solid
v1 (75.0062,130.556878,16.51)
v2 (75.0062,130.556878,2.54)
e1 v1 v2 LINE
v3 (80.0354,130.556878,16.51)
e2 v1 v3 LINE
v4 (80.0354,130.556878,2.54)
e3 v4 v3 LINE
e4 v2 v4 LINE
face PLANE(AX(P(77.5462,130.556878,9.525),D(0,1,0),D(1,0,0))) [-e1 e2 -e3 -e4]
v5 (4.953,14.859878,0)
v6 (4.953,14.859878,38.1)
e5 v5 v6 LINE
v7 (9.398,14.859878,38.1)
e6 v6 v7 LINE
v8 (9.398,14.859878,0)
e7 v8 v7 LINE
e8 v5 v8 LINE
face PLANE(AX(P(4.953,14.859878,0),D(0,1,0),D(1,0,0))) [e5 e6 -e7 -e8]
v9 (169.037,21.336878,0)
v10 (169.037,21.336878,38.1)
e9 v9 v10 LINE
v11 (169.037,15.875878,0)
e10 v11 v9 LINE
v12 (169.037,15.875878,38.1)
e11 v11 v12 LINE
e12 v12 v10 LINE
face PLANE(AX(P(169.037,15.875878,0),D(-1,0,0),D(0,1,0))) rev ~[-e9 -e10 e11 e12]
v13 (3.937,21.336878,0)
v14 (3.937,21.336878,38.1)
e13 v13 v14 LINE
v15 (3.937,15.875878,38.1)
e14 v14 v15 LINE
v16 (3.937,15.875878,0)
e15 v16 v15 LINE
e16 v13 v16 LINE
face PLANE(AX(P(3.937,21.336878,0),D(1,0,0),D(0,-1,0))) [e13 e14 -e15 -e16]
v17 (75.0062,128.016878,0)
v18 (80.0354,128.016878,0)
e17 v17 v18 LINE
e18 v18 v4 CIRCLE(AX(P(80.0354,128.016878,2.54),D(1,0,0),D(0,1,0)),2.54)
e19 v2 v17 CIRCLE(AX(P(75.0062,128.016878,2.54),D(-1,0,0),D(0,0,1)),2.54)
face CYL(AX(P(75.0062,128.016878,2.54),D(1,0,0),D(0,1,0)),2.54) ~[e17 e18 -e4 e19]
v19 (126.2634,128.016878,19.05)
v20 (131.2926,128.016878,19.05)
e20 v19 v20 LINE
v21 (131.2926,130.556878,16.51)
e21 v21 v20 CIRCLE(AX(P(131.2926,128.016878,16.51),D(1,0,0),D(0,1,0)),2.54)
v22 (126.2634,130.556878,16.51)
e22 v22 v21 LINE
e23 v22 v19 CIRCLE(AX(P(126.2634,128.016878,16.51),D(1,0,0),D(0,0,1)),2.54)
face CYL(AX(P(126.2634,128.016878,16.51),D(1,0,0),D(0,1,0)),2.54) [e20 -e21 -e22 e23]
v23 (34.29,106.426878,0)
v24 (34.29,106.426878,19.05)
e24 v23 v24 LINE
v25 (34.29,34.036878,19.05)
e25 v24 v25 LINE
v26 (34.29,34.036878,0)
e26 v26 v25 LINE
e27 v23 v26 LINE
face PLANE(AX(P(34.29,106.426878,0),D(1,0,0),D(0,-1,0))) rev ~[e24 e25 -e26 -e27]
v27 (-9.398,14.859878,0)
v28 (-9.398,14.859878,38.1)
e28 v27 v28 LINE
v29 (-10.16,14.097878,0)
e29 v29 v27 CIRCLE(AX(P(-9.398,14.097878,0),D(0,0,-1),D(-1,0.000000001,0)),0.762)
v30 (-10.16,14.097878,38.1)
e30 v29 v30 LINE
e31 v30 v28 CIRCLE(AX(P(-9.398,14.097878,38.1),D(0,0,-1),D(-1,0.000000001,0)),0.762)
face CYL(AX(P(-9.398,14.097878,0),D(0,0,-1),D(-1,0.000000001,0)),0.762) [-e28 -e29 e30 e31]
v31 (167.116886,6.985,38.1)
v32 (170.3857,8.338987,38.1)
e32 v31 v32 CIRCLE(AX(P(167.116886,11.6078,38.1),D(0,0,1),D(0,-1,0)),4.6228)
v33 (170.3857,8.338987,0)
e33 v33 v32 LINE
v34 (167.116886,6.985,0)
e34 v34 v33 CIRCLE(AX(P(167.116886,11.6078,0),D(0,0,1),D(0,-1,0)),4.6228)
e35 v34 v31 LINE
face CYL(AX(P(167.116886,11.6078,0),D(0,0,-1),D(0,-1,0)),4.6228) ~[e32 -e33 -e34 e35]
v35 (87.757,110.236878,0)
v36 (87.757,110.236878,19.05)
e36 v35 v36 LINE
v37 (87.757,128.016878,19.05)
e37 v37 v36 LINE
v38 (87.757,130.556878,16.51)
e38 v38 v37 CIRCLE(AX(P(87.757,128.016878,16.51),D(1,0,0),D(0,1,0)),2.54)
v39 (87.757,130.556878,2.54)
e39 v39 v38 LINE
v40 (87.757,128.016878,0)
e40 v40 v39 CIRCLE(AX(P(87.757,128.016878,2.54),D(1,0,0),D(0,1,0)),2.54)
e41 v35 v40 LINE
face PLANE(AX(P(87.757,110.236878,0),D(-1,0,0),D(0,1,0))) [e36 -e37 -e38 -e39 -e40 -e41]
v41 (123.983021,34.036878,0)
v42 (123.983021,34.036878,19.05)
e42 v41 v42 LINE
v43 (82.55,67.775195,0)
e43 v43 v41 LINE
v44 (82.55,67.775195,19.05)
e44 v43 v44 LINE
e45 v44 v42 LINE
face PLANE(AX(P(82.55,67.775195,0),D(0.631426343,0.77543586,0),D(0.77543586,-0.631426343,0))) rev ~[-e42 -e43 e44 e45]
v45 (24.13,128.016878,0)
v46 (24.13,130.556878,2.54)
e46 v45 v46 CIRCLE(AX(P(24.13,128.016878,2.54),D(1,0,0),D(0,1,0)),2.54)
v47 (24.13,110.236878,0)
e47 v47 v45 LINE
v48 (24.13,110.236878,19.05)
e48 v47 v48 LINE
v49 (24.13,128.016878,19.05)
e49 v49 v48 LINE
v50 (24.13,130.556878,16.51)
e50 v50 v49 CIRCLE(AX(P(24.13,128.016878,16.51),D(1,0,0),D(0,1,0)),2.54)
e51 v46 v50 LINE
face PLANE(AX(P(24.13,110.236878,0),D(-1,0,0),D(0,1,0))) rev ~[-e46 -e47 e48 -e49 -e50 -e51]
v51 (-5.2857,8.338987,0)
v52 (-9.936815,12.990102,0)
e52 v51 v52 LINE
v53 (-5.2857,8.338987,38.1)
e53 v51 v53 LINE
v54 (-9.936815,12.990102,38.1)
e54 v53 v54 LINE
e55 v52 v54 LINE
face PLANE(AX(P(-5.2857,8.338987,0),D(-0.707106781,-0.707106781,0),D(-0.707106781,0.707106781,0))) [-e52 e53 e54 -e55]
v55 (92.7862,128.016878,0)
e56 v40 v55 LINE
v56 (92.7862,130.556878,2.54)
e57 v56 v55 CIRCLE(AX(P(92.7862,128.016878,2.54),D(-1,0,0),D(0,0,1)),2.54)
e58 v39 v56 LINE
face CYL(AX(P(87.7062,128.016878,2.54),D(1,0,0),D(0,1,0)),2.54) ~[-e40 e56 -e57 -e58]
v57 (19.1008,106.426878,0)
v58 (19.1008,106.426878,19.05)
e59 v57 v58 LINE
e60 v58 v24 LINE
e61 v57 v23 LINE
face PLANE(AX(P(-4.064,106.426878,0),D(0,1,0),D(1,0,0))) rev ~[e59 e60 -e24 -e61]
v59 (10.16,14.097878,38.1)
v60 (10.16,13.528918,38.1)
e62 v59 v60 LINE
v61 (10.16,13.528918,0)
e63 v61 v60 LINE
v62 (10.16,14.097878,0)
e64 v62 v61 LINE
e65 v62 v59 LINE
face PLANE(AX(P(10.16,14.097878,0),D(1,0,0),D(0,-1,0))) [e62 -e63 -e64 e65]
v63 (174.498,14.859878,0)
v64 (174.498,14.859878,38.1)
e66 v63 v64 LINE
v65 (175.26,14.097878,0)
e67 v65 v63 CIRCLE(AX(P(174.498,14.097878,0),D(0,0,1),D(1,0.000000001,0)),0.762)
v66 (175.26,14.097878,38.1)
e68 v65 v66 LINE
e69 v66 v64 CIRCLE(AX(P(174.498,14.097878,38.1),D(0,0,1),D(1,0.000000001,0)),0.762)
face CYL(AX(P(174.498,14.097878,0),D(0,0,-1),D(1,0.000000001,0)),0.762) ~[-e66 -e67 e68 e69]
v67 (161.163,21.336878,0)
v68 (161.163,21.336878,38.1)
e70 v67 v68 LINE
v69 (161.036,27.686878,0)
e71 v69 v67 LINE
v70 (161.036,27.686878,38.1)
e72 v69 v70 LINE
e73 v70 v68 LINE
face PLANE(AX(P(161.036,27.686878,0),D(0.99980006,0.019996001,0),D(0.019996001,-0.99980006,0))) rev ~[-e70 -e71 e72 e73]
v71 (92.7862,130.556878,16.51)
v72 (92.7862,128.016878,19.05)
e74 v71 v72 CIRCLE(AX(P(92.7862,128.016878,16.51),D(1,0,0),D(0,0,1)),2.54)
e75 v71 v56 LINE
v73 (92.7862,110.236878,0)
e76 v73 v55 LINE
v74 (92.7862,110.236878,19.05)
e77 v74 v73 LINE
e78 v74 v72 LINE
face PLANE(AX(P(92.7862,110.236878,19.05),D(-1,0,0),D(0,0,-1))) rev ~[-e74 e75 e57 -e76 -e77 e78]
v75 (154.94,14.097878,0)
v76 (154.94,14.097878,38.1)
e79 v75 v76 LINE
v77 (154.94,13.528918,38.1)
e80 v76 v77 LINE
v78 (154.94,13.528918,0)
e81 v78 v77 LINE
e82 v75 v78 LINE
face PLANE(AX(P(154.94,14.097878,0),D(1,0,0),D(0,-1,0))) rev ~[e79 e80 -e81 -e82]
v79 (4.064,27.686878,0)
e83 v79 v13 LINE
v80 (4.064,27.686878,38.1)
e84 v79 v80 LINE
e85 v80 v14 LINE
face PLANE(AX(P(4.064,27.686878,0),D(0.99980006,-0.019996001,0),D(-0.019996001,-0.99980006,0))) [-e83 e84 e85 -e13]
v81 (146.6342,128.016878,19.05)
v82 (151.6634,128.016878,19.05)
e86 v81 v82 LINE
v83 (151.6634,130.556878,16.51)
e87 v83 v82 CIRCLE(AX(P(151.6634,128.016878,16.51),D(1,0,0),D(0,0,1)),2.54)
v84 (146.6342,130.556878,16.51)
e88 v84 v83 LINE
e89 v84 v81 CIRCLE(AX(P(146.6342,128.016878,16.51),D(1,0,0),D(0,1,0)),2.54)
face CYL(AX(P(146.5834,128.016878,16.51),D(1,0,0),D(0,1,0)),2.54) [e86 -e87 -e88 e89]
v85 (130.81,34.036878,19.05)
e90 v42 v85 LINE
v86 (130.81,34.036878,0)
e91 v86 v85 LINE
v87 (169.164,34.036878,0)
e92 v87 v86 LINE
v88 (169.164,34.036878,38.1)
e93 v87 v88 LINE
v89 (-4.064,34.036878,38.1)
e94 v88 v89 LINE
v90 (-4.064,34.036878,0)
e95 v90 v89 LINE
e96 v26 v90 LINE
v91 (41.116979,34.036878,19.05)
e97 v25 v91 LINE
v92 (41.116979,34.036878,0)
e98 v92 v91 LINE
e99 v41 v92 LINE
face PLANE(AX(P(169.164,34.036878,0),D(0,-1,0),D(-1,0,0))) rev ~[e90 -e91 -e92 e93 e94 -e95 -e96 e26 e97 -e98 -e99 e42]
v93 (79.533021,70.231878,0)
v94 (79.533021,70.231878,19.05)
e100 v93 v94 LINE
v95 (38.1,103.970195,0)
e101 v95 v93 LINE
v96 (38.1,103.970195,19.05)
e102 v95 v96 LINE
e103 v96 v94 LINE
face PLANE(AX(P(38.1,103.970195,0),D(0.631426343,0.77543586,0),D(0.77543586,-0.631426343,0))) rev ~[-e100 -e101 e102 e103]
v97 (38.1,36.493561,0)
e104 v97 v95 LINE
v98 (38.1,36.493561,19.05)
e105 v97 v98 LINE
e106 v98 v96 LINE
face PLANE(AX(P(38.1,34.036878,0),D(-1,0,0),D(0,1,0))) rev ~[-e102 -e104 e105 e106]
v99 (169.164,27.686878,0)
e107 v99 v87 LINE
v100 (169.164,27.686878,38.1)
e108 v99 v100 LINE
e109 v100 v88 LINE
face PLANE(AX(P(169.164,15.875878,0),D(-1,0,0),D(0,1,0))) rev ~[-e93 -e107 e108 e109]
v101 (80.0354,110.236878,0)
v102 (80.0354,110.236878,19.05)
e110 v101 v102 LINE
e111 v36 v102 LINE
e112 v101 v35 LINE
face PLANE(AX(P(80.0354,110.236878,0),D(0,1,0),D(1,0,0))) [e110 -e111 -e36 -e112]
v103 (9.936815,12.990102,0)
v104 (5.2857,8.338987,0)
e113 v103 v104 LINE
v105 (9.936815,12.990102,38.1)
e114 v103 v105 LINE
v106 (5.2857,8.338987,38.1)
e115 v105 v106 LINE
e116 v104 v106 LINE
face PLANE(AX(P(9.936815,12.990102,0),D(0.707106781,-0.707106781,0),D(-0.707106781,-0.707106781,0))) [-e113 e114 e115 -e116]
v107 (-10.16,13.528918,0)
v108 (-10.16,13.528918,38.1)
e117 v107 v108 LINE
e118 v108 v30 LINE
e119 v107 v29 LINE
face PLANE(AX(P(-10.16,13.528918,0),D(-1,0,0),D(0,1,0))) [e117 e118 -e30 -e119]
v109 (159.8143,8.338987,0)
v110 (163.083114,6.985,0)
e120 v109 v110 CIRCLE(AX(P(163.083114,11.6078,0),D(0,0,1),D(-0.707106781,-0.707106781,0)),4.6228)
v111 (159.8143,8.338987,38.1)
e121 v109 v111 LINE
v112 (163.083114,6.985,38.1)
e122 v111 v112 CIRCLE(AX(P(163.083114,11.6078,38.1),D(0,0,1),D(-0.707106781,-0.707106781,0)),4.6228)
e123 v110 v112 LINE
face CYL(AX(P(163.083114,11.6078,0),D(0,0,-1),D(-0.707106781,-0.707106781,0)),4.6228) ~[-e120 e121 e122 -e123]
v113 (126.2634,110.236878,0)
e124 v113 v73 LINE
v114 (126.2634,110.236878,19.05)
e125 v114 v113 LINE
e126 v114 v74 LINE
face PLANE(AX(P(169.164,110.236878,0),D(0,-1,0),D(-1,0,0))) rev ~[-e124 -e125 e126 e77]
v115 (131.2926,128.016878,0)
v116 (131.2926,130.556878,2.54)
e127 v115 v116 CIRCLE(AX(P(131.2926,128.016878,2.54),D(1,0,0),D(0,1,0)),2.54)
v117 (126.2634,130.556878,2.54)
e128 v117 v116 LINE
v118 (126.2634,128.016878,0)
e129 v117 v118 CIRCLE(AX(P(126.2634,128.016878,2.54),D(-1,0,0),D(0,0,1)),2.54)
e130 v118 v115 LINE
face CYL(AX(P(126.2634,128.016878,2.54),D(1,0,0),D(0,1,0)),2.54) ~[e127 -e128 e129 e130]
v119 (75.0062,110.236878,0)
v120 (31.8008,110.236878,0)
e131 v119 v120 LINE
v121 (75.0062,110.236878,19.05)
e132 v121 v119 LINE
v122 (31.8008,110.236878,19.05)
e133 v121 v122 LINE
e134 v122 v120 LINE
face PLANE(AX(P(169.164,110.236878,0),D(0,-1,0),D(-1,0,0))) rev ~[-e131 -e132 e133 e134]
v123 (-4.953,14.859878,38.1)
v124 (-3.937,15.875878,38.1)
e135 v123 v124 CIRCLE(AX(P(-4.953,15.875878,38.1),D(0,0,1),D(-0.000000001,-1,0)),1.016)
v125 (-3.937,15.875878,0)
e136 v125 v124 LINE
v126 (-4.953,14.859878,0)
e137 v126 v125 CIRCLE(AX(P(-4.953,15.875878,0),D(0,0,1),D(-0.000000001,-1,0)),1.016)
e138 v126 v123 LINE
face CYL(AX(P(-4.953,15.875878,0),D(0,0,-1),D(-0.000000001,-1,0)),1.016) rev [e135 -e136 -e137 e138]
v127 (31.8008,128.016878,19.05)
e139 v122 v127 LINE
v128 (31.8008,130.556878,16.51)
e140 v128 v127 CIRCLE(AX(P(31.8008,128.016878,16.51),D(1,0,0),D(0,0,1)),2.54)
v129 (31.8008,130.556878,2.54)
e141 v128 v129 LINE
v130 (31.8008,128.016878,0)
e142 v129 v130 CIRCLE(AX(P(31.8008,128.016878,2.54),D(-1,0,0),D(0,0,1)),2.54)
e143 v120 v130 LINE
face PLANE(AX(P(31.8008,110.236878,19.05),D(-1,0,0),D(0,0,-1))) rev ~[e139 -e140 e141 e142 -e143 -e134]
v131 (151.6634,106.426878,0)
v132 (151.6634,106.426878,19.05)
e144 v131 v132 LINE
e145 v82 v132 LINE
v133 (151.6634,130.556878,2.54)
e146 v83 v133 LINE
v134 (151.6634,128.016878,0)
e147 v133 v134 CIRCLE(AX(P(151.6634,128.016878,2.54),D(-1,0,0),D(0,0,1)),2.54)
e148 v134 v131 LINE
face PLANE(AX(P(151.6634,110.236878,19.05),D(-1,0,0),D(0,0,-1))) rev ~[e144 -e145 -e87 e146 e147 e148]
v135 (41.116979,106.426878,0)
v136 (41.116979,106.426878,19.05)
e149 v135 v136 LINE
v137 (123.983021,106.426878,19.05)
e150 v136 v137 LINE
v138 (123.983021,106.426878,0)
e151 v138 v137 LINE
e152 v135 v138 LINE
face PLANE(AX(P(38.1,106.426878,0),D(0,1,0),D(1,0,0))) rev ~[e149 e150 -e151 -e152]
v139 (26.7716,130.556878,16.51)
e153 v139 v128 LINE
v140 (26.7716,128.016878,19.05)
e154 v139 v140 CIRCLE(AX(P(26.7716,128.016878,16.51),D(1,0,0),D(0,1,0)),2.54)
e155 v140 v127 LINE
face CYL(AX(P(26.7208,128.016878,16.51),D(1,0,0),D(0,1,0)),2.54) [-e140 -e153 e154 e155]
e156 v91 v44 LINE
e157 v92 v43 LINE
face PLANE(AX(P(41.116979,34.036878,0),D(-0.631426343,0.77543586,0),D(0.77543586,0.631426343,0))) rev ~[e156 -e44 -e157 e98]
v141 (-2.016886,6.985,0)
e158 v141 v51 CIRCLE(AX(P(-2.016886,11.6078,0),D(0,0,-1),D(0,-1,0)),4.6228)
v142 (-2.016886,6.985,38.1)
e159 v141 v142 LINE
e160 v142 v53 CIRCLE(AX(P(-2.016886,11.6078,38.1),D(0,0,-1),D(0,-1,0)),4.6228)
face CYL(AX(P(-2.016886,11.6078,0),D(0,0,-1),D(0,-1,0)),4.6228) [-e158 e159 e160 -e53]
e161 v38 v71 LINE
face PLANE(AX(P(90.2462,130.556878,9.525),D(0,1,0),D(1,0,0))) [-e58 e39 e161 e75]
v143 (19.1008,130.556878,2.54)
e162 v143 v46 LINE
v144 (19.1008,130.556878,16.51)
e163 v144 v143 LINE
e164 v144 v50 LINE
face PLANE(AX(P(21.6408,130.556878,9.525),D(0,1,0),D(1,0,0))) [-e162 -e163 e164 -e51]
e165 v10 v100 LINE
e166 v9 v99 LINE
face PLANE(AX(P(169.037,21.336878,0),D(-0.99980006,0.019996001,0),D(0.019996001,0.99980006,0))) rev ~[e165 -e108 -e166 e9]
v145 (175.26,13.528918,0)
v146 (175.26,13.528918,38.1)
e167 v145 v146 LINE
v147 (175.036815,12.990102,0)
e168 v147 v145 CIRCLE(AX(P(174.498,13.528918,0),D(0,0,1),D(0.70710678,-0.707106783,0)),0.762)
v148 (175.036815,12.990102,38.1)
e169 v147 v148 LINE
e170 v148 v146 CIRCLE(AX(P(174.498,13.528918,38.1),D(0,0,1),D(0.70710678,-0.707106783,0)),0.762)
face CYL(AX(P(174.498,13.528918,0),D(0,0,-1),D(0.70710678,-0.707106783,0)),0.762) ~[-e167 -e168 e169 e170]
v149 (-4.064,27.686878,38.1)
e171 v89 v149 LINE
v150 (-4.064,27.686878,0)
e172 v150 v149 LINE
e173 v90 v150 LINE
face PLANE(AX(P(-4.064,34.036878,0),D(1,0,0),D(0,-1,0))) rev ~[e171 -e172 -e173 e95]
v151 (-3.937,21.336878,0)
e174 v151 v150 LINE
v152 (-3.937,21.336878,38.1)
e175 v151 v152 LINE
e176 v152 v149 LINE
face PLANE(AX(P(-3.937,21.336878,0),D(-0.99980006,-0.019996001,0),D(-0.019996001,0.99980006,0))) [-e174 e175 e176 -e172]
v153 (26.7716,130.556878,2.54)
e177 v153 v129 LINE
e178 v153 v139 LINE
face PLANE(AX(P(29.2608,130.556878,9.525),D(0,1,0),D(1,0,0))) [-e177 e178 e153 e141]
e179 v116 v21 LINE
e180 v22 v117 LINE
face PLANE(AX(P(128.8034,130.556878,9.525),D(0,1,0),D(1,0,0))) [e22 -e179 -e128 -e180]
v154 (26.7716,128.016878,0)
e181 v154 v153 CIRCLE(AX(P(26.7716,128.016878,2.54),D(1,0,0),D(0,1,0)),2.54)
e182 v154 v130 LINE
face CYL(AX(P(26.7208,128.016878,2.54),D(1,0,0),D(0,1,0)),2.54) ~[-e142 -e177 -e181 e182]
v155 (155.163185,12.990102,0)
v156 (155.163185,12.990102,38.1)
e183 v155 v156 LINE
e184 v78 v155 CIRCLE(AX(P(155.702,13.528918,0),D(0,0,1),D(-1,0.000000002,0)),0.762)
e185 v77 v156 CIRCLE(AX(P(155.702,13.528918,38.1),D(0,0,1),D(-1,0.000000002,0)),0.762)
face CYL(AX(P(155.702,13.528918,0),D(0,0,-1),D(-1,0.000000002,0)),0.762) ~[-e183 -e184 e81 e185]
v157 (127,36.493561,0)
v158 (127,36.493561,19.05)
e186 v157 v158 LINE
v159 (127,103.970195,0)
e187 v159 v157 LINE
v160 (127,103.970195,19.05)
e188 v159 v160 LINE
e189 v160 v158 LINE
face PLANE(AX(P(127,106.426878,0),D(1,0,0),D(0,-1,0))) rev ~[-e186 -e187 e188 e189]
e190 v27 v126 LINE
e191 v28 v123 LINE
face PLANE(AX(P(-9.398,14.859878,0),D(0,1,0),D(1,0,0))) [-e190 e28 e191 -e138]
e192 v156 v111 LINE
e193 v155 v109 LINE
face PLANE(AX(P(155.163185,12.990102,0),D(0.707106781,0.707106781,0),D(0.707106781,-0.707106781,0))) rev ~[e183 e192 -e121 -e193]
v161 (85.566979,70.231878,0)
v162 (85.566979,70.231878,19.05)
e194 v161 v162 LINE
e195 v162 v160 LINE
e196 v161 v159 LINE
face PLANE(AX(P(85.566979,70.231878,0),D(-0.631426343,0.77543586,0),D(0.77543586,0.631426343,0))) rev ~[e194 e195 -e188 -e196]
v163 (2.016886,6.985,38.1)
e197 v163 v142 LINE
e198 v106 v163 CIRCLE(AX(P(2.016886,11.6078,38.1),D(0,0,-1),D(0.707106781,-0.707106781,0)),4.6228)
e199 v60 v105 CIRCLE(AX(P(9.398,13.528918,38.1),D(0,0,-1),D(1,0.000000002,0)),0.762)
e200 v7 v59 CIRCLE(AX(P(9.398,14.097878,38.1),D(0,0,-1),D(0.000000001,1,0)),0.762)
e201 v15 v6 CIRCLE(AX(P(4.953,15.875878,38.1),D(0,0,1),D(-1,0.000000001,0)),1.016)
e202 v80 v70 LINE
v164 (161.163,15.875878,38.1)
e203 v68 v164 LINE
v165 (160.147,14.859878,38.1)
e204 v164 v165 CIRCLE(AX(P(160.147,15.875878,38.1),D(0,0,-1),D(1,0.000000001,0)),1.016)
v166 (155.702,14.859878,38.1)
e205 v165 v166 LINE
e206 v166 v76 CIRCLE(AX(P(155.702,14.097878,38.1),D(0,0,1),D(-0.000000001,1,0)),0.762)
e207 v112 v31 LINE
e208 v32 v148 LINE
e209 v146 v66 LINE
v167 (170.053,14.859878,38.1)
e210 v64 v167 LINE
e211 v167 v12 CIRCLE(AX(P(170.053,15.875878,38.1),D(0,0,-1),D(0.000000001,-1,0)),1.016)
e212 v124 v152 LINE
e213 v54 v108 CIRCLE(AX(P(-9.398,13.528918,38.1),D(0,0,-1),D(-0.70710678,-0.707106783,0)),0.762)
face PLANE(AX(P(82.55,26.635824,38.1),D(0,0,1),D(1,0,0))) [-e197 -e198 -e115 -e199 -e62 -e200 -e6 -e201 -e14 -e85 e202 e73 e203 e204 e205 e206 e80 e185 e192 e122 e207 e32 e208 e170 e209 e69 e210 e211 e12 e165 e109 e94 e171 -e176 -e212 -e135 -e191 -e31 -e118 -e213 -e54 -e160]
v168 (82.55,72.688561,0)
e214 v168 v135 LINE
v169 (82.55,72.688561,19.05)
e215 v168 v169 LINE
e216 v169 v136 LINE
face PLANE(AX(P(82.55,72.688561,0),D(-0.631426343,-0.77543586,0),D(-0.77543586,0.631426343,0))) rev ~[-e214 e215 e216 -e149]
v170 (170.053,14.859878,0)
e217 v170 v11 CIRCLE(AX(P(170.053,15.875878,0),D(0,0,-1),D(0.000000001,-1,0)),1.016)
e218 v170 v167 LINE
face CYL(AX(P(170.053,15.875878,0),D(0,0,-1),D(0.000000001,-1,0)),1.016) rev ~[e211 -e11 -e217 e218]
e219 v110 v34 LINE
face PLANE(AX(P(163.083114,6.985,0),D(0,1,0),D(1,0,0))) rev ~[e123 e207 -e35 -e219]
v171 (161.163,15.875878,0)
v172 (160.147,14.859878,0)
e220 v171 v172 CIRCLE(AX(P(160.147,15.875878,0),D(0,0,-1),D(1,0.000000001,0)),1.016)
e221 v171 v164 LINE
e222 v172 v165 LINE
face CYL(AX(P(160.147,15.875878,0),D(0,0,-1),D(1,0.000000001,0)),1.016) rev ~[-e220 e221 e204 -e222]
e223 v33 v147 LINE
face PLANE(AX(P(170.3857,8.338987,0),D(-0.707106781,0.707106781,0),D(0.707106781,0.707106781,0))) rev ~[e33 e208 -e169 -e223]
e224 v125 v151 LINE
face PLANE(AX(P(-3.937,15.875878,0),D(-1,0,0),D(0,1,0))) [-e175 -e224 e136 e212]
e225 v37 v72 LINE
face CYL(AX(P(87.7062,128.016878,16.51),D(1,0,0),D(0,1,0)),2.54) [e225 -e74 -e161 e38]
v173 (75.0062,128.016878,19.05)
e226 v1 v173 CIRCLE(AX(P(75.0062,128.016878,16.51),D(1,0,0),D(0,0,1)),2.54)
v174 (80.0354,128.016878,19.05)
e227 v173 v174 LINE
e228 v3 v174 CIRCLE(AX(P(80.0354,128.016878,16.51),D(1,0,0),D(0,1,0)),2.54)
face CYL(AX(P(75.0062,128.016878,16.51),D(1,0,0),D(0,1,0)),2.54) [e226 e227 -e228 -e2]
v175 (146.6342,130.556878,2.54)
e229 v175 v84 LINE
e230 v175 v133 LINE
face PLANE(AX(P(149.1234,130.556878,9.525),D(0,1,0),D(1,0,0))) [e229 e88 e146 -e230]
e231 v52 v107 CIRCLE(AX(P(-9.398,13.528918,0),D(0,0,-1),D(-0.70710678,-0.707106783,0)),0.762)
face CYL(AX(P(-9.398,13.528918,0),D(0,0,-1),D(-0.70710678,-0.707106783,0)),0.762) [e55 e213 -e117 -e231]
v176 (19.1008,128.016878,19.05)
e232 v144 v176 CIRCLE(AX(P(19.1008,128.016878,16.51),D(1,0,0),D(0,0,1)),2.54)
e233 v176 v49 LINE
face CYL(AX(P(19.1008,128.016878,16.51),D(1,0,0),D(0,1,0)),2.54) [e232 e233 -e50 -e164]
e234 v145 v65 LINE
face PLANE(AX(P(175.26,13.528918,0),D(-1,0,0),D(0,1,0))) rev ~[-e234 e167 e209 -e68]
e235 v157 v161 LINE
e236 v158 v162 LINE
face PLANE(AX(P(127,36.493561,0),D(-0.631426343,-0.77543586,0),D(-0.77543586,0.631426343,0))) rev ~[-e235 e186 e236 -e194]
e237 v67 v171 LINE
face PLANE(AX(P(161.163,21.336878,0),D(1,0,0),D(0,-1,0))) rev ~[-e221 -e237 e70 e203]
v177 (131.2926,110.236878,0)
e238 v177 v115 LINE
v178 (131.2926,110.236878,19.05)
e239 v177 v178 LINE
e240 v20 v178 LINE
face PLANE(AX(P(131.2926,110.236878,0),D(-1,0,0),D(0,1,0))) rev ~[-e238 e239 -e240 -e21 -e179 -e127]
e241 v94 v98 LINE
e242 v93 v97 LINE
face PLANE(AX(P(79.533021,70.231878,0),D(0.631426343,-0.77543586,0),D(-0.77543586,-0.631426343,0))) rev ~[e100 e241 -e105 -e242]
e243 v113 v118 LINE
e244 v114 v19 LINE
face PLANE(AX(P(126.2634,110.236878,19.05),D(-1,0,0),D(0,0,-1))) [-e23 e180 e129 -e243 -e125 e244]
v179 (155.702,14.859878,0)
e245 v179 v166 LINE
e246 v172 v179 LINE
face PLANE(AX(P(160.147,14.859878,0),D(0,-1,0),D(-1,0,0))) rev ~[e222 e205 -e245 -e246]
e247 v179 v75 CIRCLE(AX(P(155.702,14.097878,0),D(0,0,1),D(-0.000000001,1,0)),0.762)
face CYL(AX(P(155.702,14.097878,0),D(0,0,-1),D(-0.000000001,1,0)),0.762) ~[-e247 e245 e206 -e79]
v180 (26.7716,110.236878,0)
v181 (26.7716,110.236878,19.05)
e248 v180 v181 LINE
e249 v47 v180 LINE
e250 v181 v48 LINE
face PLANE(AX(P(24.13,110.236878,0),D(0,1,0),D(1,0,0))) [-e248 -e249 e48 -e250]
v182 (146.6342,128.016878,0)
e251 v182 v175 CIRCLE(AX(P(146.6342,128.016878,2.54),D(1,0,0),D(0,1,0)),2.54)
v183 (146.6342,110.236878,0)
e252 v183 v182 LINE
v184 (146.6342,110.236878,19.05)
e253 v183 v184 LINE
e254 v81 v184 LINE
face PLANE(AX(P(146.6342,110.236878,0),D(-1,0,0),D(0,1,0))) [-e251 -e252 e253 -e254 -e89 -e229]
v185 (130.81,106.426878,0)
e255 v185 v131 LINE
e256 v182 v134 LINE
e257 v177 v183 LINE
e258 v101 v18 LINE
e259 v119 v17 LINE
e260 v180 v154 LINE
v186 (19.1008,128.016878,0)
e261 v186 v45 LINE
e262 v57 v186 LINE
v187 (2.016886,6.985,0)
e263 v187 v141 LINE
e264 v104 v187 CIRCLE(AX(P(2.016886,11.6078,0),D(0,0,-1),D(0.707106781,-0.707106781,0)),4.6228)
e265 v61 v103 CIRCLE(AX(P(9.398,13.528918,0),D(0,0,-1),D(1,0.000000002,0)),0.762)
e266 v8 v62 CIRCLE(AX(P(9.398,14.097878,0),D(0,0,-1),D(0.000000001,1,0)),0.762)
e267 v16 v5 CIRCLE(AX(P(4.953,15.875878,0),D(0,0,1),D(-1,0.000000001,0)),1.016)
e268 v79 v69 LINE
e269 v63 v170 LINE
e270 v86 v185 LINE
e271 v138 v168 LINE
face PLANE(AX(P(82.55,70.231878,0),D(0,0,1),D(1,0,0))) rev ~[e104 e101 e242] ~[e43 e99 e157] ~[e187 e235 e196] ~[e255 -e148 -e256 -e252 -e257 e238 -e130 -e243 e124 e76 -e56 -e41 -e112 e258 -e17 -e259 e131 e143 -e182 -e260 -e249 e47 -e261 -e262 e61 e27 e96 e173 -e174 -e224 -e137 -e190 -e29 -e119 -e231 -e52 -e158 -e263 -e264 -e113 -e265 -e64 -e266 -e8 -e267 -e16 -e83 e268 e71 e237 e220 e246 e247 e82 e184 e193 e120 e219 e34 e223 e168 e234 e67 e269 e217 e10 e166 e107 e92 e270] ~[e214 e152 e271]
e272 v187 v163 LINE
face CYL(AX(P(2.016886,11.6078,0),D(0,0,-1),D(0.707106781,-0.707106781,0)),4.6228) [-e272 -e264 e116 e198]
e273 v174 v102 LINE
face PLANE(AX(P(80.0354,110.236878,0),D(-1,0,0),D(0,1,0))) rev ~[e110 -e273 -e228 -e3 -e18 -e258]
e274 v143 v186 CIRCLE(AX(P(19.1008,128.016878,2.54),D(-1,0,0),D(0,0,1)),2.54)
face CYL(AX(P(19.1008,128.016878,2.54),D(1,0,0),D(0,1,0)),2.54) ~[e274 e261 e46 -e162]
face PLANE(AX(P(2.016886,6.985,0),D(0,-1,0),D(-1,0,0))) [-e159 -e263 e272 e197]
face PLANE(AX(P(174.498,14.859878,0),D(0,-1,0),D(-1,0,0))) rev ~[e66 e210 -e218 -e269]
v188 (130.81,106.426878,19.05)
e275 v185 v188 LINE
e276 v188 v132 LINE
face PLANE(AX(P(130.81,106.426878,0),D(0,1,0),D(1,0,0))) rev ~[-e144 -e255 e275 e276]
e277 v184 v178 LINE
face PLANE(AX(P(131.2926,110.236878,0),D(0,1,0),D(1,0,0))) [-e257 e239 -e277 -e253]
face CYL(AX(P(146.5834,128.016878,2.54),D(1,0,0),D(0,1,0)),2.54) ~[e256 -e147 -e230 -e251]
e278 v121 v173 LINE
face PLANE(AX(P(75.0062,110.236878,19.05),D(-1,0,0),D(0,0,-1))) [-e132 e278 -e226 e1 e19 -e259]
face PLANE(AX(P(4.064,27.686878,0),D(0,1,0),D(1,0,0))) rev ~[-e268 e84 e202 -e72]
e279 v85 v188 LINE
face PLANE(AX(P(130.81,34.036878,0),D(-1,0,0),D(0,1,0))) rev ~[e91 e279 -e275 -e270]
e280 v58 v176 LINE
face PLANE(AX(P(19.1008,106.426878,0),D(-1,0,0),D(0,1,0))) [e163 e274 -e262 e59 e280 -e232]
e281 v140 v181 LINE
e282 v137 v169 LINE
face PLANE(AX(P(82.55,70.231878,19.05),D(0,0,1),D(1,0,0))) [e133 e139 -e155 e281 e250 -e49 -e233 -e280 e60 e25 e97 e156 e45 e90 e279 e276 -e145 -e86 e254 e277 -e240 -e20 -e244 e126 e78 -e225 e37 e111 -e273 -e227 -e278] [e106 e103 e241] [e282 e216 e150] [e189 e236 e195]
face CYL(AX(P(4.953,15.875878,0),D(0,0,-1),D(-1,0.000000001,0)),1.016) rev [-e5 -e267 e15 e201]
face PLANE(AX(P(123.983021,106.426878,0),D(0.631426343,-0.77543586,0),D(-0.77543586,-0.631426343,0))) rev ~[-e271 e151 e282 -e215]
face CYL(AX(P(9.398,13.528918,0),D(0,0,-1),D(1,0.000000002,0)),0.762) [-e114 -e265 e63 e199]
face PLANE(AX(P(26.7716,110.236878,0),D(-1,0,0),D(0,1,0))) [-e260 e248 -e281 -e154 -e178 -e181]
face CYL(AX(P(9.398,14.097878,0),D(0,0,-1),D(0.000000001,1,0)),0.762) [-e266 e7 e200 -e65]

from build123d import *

# Parameters (mm, degrees)
BOSS_EXTRUDE2_DEPTH  = 38.1
BOSS_EXTRUDE6_DEPTH  = 19.05
SKETCH6_W            = 5.08
SKETCH6_H            = 19.05
BOSS_EXTRUDE5_DEPTH  = 20.32
SKETCH10_W           = 23.1648
SKETCH10_H           = 3.81
SKETCH10_W_2         = 17.5006
CUT_EXTRUDE3_DEPTH   = 19.05
FILLET1_R            = 2.54
BOSS_EXTRUDE7_DEPTH  = 19.05
CLEARANCE_START      = -38.1
SKETCH3_W            = 2.6416
SKETCH3_H            = 20.32
SKETCH3_W_2          = 7.7216
SKETCH3_W_3          = 15.3416
CLEARANCE_TRIM_DEPTH = 38.1


with BuildPart() as part:
    # Sketch1 → Boss-Extrude2 (new body)
    with BuildSketch(Plane.XY):
        with BuildLine():
            Line((-2.016886463, 6.858), (2.016886463, 6.858))
            ThreePointArc((2.016886463, 6.858), (3.83455623, 7.219556996), (5.375502252, 8.249184211))
            Line((5.375502252, 8.249184211), (10.026617928, 12.900299887))
            ThreePointArc((10.026617928, 12.900299887), (10.219328904, 13.188712244), (10.287, 13.528917816))
            Line((10.287, 13.528917816), (10.287, 14.097877816))
            ThreePointArc((10.287, 14.097877816), (10.026617928, 14.726495744), (9.398, 14.986877816))
            Line((9.398, 14.986877816), (4.953, 14.986877816))
            ThreePointArc((4.953, 14.986877816), (4.324382072, 15.247259887), (4.064, 15.875877816))
            Line((4.064, 15.875877816), (4.064, 27.686877816))
            Line((4.064, 27.686877816), (161.036, 27.686877816))
            Line((161.036, 27.686877816), (161.036, 15.875877816))
            ThreePointArc((161.036, 15.875877816), (160.775617928, 15.247259887), (160.147, 14.986877816))
            Line((160.147, 14.986877816), (155.702, 14.986877816))
            ThreePointArc((155.702, 14.986877816), (155.073382072, 14.726495744), (154.813, 14.097877816))
            Line((154.813, 14.097877816), (154.813, 13.528917816))
            ThreePointArc((154.813, 13.528917816), (154.880671096, 13.188712244), (155.073382072, 12.900299887))
            Line((155.073382072, 12.900299887), (159.724497748, 8.249184211))
            ThreePointArc((159.724497748, 8.249184211), (161.26544377, 7.219556996), (163.083113537, 6.858))
            Line((163.083113537, 6.858), (167.116886463, 6.858))
            ThreePointArc((167.116886463, 6.858), (168.93455623, 7.219556996), (170.475502252, 8.249184211))
            Line((170.475502252, 8.249184211), (175.126617928, 12.900299887))
            ThreePointArc((175.126617928, 12.900299887), (175.319328904, 13.188712244), (175.387, 13.528917816))
            Line((175.387, 13.528917816), (175.387, 14.097877816))
            ThreePointArc((175.387, 14.097877816), (175.126617928, 14.726495744), (174.498, 14.986877816))
            Line((174.498, 14.986877816), (170.053, 14.986877816))
            ThreePointArc((170.053, 14.986877816), (169.424382072, 15.247259887), (169.164, 15.875877816))
            Line((169.164, 15.875877816), (169.164, 27.686877816))
            Line((169.164, 27.686877816), (169.164, 34.036877816))
            Line((169.164, 34.036877816), (-4.064, 34.036877816))
            Line((-4.064, 34.036877816), (-4.064, 27.686877816))
            Line((-4.064, 27.686877816), (-4.064, 15.875877816))
            ThreePointArc((-4.064, 15.875877816), (-4.324382072, 15.247259887), (-4.953, 14.986877816))
            Line((-4.953, 14.986877816), (-9.398, 14.986877816))
            ThreePointArc((-9.398, 14.986877816), (-10.026617928, 14.726495744), (-10.287, 14.097877816))
            Line((-10.287, 14.097877816), (-10.287, 13.528917816))
            ThreePointArc((-10.287, 13.528917816), (-10.219328904, 13.188712244), (-10.026617928, 12.900299887))
            Line((-10.026617928, 12.900299887), (-5.375502252, 8.249184211))
            ThreePointArc((-5.375502252, 8.249184211), (-3.83455623, 7.219556996), (-2.016886463, 6.858))
        make_face()
    extrude(amount=BOSS_EXTRUDE2_DEPTH)

    # Sketch7 → Boss-Extrude6 (add)
    with BuildSketch(Plane.XY):
        Polygon((130.81, 106.426877816), (169.164, 106.426877816), (169.164, 110.236877816), (-4.064, 110.236877816), (-4.064, 106.426877816), (34.29, 106.426877816), (34.29, 34.036877816), (38.1, 34.036877816), (38.1, 106.426877816), (127, 106.426877816), (127, 34.036877816), (130.81, 34.036877816), align=None)
    extrude(amount=BOSS_EXTRUDE6_DEPTH)

    # Sketch6 → Boss-Extrude5 (add)
    with BuildSketch(Plane(origin=(0, 110.236877816, 0), x_dir=(1, 0, 0), z_dir=(0, 1, 0))):
        with Locations((21.6408, -9.525)):
            Rectangle(SKETCH6_W, SKETCH6_H)
        with Locations((29.2608, -9.525)):
            Rectangle(SKETCH6_W, SKETCH6_H)
        with Locations((77.5462, -9.525)):
            Rectangle(SKETCH6_W, SKETCH6_H)
        with Locations((90.2462, -9.525)):
            Rectangle(SKETCH6_W, SKETCH6_H)
        with Locations((128.8034, -9.525)):
            Rectangle(SKETCH6_W, SKETCH6_H)
        with Locations((149.1234, -9.525)):
            Rectangle(SKETCH6_W, SKETCH6_H)
    extrude(amount=BOSS_EXTRUDE5_DEPTH)

    # Sketch10 → Cut-Extrude3 (cut)
    with BuildSketch(Plane.XY):
        with Locations((7.5184, 108.331877816)):
            Rectangle(SKETCH10_W, SKETCH10_H)
        with Locations((160.4137, 108.331877816)):
            Rectangle(SKETCH10_W_2, SKETCH10_H)
    extrude(amount=CUT_EXTRUDE3_DEPTH, mode=Mode.SUBTRACT)

    # Fillet1
    fillet1_edges = [part.edges().sort_by_distance(p)[0] for p in [
        (21.6408, 130.556877816, 19.05),
        (21.6408, 130.556877816, 0),
        (29.2608, 130.556877816, 0),
        (29.2608, 130.556877816, 19.05),
        (77.5462, 130.556877816, 0),
        (77.5462, 130.556877816, 19.05),
        (90.2462, 130.556877816, 0),
        (90.2462, 130.556877816, 19.05),
        (128.8034, 130.556877816, 0),
        (128.8034, 130.556877816, 19.05),
        (149.1234, 130.556877816, 0),
        (149.1234, 130.556877816, 19.05),
    ]]
    fillet(fillet1_edges, radius=FILLET1_R)

    # Sketch11 → Boss-Extrude7 (add)
    with BuildSketch(Plane.XY):
        Polygon((38.1, 103.970194938), (79.533021028, 70.231877816), (38.1, 36.493560693), (38.1, 34.036877816), (41.116978972, 34.036877816), (82.55, 67.775194938), (123.983021028, 34.036877816), (127, 34.036877816), (127, 36.493560693), (85.566978972, 70.231877816), (127, 103.970194938), (127, 106.426877816), (123.983021028, 106.426877816), (82.55, 72.688560693), (41.116978972, 106.426877816), (38.1, 106.426877816), align=None)
    extrude(amount=BOSS_EXTRUDE7_DEPTH)

    # Sketch3 → Clearance Trim (cut)
    with BuildSketch(Plane.XY.offset(38.1).offset(CLEARANCE_START)):
        with BuildLine():
            Line((4.064, 27.686877816), (3.937, 21.336877816))
            Line((3.937, 21.336877816), (3.937, 15.875877816))
            ThreePointArc((3.937, 15.875877816), (4.23457951, 15.157457326), (4.953, 14.859877816))
            Line((4.953, 14.859877816), (9.398, 14.859877816))
            ThreePointArc((9.398, 14.859877816), (9.936815367, 14.636693183), (10.16, 14.097877816))
            Line((10.16, 14.097877816), (10.16, 13.528917816))
            ThreePointArc((10.16, 13.528917816), (10.101996204, 13.23731304), (9.936815367, 12.990102448))
            Line((9.936815367, 12.990102448), (5.285699691, 8.338986772))
            ThreePointArc((5.285699691, 8.338986772), (3.785955434, 7.336889697), (2.016886463, 6.985))
            Line((2.016886463, 6.985), (-2.016886463, 6.985))
            ThreePointArc((-2.016886463, 6.985), (-3.785955434, 7.336889697), (-5.285699691, 8.338986772))
            Line((-5.285699691, 8.338986772), (-9.936815367, 12.990102448))
            ThreePointArc((-9.936815367, 12.990102448), (-10.101996204, 13.23731304), (-10.16, 13.528917816))
            Line((-10.16, 13.528917816), (-10.16, 14.097877816))
            ThreePointArc((-10.16, 14.097877816), (-9.936815367, 14.636693183), (-9.398, 14.859877816))
            Line((-9.398, 14.859877816), (-4.953, 14.859877816))
            ThreePointArc((-4.953, 14.859877816), (-4.23457951, 15.157457326), (-3.937, 15.875877816))
            Line((-3.937, 15.875877816), (-3.937, 21.336877816))
            Line((-3.937, 21.336877816), (-4.064, 27.686877816))
            Line((-4.064, 27.686877816), (-4.064, 15.875877816))
            ThreePointArc((-4.064, 15.875877816), (-4.324382072, 15.247259887), (-4.953, 14.986877816))
            Line((-4.953, 14.986877816), (-9.398, 14.986877816))
            ThreePointArc((-9.398, 14.986877816), (-10.026617928, 14.726495744), (-10.287, 14.097877816))
            Line((-10.287, 14.097877816), (-10.287, 13.528917816))
            ThreePointArc((-10.287, 13.528917816), (-10.219328904, 13.188712244), (-10.026617928, 12.900299887))
            Line((-10.026617928, 12.900299887), (-5.375502252, 8.249184211))
            ThreePointArc((-5.375502252, 8.249184211), (-3.83455623, 7.219556996), (-2.016886463, 6.858))
            Line((-2.016886463, 6.858), (2.016886463, 6.858))
            ThreePointArc((2.016886463, 6.858), (3.83455623, 7.219556996), (5.375502252, 8.249184211))
            Line((5.375502252, 8.249184211), (10.026617928, 12.900299887))
            ThreePointArc((10.026617928, 12.900299887), (10.219328904, 13.188712244), (10.287, 13.528917816))
            Line((10.287, 13.528917816), (10.287, 14.097877816))
            ThreePointArc((10.287, 14.097877816), (10.026617928, 14.726495744), (9.398, 14.986877816))
            Line((9.398, 14.986877816), (4.953, 14.986877816))
            ThreePointArc((4.953, 14.986877816), (4.324382072, 15.247259887), (4.064, 15.875877816))
            Line((4.064, 15.875877816), (4.064, 27.686877816))
        make_face()
        with BuildLine():
            Line((161.036, 27.686877816), (161.163, 21.336877816))
            Line((161.163, 21.336877816), (161.163, 15.875877816))
            ThreePointArc((161.163, 15.875877816), (160.86542049, 15.157457326), (160.147, 14.859877816))
            Line((160.147, 14.859877816), (155.702, 14.859877816))
            ThreePointArc((155.702, 14.859877816), (155.163184633, 14.636693183), (154.94, 14.097877816))
            Line((154.94, 14.097877816), (154.94, 13.528917816))
            ThreePointArc((154.94, 13.528917816), (154.998003796, 13.23731304), (155.163184633, 12.990102448))
            Line((155.163184633, 12.990102448), (159.814300309, 8.338986772))
            ThreePointArc((159.814300309, 8.338986772), (161.314044566, 7.336889697), (163.083113537, 6.985))
            Line((163.083113537, 6.985), (167.116886463, 6.985))
            ThreePointArc((167.116886463, 6.985), (168.885955434, 7.336889697), (170.385699691, 8.338986772))
            Line((170.385699691, 8.338986772), (175.036815367, 12.990102448))
            ThreePointArc((175.036815367, 12.990102448), (175.201996204, 13.23731304), (175.26, 13.528917816))
            Line((175.26, 13.528917816), (175.26, 14.097877816))
            ThreePointArc((175.26, 14.097877816), (175.036815367, 14.636693183), (174.498, 14.859877816))
            Line((174.498, 14.859877816), (170.053, 14.859877816))
            ThreePointArc((170.053, 14.859877816), (169.33457951, 15.157457326), (169.037, 15.875877816))
            Line((169.037, 15.875877816), (169.037, 21.336877816))
            Line((169.037, 21.336877816), (169.164, 27.686877816))
            Line((169.164, 27.686877816), (169.164, 15.875877816))
            ThreePointArc((169.164, 15.875877816), (169.424382072, 15.247259887), (170.053, 14.986877816))
            Line((170.053, 14.986877816), (174.498, 14.986877816))
            ThreePointArc((174.498, 14.986877816), (175.126617928, 14.726495744), (175.387, 14.097877816))
            Line((175.387, 14.097877816), (175.387, 13.528917816))
            ThreePointArc((175.387, 13.528917816), (175.319328904, 13.188712244), (175.126617928, 12.900299887))
            Line((175.126617928, 12.900299887), (170.475502252, 8.249184211))
            ThreePointArc((170.475502252, 8.249184211), (168.93455623, 7.219556996), (167.116886463, 6.858))
            Line((167.116886463, 6.858), (163.083113537, 6.858))
            ThreePointArc((163.083113537, 6.858), (161.26544377, 7.219556996), (159.724497748, 8.249184211))
            Line((159.724497748, 8.249184211), (155.073382072, 12.900299887))
            ThreePointArc((155.073382072, 12.900299887), (154.880671096, 13.188712244), (154.813, 13.528917816))
            Line((154.813, 13.528917816), (154.813, 14.097877816))
            ThreePointArc((154.813, 14.097877816), (155.073382072, 14.726495744), (155.702, 14.986877816))
            Line((155.702, 14.986877816), (160.147, 14.986877816))
            ThreePointArc((160.147, 14.986877816), (160.775617928, 15.247259887), (161.036, 15.875877816))
            Line((161.036, 15.875877816), (161.036, 27.686877816))
        make_face()
        with Locations((25.4508, 120.396877816)):
            Rectangle(SKETCH3_W, SKETCH3_H)
        with Locations((83.8962, 120.396877816)):
            Rectangle(SKETCH3_W_2, SKETCH3_H)
        with Locations((138.9634, 120.396877816)):
            Rectangle(SKETCH3_W_3, SKETCH3_H)
    extrude(amount=CLEARANCE_TRIM_DEPTH, mode=Mode.SUBTRACT)


solid = part.part
